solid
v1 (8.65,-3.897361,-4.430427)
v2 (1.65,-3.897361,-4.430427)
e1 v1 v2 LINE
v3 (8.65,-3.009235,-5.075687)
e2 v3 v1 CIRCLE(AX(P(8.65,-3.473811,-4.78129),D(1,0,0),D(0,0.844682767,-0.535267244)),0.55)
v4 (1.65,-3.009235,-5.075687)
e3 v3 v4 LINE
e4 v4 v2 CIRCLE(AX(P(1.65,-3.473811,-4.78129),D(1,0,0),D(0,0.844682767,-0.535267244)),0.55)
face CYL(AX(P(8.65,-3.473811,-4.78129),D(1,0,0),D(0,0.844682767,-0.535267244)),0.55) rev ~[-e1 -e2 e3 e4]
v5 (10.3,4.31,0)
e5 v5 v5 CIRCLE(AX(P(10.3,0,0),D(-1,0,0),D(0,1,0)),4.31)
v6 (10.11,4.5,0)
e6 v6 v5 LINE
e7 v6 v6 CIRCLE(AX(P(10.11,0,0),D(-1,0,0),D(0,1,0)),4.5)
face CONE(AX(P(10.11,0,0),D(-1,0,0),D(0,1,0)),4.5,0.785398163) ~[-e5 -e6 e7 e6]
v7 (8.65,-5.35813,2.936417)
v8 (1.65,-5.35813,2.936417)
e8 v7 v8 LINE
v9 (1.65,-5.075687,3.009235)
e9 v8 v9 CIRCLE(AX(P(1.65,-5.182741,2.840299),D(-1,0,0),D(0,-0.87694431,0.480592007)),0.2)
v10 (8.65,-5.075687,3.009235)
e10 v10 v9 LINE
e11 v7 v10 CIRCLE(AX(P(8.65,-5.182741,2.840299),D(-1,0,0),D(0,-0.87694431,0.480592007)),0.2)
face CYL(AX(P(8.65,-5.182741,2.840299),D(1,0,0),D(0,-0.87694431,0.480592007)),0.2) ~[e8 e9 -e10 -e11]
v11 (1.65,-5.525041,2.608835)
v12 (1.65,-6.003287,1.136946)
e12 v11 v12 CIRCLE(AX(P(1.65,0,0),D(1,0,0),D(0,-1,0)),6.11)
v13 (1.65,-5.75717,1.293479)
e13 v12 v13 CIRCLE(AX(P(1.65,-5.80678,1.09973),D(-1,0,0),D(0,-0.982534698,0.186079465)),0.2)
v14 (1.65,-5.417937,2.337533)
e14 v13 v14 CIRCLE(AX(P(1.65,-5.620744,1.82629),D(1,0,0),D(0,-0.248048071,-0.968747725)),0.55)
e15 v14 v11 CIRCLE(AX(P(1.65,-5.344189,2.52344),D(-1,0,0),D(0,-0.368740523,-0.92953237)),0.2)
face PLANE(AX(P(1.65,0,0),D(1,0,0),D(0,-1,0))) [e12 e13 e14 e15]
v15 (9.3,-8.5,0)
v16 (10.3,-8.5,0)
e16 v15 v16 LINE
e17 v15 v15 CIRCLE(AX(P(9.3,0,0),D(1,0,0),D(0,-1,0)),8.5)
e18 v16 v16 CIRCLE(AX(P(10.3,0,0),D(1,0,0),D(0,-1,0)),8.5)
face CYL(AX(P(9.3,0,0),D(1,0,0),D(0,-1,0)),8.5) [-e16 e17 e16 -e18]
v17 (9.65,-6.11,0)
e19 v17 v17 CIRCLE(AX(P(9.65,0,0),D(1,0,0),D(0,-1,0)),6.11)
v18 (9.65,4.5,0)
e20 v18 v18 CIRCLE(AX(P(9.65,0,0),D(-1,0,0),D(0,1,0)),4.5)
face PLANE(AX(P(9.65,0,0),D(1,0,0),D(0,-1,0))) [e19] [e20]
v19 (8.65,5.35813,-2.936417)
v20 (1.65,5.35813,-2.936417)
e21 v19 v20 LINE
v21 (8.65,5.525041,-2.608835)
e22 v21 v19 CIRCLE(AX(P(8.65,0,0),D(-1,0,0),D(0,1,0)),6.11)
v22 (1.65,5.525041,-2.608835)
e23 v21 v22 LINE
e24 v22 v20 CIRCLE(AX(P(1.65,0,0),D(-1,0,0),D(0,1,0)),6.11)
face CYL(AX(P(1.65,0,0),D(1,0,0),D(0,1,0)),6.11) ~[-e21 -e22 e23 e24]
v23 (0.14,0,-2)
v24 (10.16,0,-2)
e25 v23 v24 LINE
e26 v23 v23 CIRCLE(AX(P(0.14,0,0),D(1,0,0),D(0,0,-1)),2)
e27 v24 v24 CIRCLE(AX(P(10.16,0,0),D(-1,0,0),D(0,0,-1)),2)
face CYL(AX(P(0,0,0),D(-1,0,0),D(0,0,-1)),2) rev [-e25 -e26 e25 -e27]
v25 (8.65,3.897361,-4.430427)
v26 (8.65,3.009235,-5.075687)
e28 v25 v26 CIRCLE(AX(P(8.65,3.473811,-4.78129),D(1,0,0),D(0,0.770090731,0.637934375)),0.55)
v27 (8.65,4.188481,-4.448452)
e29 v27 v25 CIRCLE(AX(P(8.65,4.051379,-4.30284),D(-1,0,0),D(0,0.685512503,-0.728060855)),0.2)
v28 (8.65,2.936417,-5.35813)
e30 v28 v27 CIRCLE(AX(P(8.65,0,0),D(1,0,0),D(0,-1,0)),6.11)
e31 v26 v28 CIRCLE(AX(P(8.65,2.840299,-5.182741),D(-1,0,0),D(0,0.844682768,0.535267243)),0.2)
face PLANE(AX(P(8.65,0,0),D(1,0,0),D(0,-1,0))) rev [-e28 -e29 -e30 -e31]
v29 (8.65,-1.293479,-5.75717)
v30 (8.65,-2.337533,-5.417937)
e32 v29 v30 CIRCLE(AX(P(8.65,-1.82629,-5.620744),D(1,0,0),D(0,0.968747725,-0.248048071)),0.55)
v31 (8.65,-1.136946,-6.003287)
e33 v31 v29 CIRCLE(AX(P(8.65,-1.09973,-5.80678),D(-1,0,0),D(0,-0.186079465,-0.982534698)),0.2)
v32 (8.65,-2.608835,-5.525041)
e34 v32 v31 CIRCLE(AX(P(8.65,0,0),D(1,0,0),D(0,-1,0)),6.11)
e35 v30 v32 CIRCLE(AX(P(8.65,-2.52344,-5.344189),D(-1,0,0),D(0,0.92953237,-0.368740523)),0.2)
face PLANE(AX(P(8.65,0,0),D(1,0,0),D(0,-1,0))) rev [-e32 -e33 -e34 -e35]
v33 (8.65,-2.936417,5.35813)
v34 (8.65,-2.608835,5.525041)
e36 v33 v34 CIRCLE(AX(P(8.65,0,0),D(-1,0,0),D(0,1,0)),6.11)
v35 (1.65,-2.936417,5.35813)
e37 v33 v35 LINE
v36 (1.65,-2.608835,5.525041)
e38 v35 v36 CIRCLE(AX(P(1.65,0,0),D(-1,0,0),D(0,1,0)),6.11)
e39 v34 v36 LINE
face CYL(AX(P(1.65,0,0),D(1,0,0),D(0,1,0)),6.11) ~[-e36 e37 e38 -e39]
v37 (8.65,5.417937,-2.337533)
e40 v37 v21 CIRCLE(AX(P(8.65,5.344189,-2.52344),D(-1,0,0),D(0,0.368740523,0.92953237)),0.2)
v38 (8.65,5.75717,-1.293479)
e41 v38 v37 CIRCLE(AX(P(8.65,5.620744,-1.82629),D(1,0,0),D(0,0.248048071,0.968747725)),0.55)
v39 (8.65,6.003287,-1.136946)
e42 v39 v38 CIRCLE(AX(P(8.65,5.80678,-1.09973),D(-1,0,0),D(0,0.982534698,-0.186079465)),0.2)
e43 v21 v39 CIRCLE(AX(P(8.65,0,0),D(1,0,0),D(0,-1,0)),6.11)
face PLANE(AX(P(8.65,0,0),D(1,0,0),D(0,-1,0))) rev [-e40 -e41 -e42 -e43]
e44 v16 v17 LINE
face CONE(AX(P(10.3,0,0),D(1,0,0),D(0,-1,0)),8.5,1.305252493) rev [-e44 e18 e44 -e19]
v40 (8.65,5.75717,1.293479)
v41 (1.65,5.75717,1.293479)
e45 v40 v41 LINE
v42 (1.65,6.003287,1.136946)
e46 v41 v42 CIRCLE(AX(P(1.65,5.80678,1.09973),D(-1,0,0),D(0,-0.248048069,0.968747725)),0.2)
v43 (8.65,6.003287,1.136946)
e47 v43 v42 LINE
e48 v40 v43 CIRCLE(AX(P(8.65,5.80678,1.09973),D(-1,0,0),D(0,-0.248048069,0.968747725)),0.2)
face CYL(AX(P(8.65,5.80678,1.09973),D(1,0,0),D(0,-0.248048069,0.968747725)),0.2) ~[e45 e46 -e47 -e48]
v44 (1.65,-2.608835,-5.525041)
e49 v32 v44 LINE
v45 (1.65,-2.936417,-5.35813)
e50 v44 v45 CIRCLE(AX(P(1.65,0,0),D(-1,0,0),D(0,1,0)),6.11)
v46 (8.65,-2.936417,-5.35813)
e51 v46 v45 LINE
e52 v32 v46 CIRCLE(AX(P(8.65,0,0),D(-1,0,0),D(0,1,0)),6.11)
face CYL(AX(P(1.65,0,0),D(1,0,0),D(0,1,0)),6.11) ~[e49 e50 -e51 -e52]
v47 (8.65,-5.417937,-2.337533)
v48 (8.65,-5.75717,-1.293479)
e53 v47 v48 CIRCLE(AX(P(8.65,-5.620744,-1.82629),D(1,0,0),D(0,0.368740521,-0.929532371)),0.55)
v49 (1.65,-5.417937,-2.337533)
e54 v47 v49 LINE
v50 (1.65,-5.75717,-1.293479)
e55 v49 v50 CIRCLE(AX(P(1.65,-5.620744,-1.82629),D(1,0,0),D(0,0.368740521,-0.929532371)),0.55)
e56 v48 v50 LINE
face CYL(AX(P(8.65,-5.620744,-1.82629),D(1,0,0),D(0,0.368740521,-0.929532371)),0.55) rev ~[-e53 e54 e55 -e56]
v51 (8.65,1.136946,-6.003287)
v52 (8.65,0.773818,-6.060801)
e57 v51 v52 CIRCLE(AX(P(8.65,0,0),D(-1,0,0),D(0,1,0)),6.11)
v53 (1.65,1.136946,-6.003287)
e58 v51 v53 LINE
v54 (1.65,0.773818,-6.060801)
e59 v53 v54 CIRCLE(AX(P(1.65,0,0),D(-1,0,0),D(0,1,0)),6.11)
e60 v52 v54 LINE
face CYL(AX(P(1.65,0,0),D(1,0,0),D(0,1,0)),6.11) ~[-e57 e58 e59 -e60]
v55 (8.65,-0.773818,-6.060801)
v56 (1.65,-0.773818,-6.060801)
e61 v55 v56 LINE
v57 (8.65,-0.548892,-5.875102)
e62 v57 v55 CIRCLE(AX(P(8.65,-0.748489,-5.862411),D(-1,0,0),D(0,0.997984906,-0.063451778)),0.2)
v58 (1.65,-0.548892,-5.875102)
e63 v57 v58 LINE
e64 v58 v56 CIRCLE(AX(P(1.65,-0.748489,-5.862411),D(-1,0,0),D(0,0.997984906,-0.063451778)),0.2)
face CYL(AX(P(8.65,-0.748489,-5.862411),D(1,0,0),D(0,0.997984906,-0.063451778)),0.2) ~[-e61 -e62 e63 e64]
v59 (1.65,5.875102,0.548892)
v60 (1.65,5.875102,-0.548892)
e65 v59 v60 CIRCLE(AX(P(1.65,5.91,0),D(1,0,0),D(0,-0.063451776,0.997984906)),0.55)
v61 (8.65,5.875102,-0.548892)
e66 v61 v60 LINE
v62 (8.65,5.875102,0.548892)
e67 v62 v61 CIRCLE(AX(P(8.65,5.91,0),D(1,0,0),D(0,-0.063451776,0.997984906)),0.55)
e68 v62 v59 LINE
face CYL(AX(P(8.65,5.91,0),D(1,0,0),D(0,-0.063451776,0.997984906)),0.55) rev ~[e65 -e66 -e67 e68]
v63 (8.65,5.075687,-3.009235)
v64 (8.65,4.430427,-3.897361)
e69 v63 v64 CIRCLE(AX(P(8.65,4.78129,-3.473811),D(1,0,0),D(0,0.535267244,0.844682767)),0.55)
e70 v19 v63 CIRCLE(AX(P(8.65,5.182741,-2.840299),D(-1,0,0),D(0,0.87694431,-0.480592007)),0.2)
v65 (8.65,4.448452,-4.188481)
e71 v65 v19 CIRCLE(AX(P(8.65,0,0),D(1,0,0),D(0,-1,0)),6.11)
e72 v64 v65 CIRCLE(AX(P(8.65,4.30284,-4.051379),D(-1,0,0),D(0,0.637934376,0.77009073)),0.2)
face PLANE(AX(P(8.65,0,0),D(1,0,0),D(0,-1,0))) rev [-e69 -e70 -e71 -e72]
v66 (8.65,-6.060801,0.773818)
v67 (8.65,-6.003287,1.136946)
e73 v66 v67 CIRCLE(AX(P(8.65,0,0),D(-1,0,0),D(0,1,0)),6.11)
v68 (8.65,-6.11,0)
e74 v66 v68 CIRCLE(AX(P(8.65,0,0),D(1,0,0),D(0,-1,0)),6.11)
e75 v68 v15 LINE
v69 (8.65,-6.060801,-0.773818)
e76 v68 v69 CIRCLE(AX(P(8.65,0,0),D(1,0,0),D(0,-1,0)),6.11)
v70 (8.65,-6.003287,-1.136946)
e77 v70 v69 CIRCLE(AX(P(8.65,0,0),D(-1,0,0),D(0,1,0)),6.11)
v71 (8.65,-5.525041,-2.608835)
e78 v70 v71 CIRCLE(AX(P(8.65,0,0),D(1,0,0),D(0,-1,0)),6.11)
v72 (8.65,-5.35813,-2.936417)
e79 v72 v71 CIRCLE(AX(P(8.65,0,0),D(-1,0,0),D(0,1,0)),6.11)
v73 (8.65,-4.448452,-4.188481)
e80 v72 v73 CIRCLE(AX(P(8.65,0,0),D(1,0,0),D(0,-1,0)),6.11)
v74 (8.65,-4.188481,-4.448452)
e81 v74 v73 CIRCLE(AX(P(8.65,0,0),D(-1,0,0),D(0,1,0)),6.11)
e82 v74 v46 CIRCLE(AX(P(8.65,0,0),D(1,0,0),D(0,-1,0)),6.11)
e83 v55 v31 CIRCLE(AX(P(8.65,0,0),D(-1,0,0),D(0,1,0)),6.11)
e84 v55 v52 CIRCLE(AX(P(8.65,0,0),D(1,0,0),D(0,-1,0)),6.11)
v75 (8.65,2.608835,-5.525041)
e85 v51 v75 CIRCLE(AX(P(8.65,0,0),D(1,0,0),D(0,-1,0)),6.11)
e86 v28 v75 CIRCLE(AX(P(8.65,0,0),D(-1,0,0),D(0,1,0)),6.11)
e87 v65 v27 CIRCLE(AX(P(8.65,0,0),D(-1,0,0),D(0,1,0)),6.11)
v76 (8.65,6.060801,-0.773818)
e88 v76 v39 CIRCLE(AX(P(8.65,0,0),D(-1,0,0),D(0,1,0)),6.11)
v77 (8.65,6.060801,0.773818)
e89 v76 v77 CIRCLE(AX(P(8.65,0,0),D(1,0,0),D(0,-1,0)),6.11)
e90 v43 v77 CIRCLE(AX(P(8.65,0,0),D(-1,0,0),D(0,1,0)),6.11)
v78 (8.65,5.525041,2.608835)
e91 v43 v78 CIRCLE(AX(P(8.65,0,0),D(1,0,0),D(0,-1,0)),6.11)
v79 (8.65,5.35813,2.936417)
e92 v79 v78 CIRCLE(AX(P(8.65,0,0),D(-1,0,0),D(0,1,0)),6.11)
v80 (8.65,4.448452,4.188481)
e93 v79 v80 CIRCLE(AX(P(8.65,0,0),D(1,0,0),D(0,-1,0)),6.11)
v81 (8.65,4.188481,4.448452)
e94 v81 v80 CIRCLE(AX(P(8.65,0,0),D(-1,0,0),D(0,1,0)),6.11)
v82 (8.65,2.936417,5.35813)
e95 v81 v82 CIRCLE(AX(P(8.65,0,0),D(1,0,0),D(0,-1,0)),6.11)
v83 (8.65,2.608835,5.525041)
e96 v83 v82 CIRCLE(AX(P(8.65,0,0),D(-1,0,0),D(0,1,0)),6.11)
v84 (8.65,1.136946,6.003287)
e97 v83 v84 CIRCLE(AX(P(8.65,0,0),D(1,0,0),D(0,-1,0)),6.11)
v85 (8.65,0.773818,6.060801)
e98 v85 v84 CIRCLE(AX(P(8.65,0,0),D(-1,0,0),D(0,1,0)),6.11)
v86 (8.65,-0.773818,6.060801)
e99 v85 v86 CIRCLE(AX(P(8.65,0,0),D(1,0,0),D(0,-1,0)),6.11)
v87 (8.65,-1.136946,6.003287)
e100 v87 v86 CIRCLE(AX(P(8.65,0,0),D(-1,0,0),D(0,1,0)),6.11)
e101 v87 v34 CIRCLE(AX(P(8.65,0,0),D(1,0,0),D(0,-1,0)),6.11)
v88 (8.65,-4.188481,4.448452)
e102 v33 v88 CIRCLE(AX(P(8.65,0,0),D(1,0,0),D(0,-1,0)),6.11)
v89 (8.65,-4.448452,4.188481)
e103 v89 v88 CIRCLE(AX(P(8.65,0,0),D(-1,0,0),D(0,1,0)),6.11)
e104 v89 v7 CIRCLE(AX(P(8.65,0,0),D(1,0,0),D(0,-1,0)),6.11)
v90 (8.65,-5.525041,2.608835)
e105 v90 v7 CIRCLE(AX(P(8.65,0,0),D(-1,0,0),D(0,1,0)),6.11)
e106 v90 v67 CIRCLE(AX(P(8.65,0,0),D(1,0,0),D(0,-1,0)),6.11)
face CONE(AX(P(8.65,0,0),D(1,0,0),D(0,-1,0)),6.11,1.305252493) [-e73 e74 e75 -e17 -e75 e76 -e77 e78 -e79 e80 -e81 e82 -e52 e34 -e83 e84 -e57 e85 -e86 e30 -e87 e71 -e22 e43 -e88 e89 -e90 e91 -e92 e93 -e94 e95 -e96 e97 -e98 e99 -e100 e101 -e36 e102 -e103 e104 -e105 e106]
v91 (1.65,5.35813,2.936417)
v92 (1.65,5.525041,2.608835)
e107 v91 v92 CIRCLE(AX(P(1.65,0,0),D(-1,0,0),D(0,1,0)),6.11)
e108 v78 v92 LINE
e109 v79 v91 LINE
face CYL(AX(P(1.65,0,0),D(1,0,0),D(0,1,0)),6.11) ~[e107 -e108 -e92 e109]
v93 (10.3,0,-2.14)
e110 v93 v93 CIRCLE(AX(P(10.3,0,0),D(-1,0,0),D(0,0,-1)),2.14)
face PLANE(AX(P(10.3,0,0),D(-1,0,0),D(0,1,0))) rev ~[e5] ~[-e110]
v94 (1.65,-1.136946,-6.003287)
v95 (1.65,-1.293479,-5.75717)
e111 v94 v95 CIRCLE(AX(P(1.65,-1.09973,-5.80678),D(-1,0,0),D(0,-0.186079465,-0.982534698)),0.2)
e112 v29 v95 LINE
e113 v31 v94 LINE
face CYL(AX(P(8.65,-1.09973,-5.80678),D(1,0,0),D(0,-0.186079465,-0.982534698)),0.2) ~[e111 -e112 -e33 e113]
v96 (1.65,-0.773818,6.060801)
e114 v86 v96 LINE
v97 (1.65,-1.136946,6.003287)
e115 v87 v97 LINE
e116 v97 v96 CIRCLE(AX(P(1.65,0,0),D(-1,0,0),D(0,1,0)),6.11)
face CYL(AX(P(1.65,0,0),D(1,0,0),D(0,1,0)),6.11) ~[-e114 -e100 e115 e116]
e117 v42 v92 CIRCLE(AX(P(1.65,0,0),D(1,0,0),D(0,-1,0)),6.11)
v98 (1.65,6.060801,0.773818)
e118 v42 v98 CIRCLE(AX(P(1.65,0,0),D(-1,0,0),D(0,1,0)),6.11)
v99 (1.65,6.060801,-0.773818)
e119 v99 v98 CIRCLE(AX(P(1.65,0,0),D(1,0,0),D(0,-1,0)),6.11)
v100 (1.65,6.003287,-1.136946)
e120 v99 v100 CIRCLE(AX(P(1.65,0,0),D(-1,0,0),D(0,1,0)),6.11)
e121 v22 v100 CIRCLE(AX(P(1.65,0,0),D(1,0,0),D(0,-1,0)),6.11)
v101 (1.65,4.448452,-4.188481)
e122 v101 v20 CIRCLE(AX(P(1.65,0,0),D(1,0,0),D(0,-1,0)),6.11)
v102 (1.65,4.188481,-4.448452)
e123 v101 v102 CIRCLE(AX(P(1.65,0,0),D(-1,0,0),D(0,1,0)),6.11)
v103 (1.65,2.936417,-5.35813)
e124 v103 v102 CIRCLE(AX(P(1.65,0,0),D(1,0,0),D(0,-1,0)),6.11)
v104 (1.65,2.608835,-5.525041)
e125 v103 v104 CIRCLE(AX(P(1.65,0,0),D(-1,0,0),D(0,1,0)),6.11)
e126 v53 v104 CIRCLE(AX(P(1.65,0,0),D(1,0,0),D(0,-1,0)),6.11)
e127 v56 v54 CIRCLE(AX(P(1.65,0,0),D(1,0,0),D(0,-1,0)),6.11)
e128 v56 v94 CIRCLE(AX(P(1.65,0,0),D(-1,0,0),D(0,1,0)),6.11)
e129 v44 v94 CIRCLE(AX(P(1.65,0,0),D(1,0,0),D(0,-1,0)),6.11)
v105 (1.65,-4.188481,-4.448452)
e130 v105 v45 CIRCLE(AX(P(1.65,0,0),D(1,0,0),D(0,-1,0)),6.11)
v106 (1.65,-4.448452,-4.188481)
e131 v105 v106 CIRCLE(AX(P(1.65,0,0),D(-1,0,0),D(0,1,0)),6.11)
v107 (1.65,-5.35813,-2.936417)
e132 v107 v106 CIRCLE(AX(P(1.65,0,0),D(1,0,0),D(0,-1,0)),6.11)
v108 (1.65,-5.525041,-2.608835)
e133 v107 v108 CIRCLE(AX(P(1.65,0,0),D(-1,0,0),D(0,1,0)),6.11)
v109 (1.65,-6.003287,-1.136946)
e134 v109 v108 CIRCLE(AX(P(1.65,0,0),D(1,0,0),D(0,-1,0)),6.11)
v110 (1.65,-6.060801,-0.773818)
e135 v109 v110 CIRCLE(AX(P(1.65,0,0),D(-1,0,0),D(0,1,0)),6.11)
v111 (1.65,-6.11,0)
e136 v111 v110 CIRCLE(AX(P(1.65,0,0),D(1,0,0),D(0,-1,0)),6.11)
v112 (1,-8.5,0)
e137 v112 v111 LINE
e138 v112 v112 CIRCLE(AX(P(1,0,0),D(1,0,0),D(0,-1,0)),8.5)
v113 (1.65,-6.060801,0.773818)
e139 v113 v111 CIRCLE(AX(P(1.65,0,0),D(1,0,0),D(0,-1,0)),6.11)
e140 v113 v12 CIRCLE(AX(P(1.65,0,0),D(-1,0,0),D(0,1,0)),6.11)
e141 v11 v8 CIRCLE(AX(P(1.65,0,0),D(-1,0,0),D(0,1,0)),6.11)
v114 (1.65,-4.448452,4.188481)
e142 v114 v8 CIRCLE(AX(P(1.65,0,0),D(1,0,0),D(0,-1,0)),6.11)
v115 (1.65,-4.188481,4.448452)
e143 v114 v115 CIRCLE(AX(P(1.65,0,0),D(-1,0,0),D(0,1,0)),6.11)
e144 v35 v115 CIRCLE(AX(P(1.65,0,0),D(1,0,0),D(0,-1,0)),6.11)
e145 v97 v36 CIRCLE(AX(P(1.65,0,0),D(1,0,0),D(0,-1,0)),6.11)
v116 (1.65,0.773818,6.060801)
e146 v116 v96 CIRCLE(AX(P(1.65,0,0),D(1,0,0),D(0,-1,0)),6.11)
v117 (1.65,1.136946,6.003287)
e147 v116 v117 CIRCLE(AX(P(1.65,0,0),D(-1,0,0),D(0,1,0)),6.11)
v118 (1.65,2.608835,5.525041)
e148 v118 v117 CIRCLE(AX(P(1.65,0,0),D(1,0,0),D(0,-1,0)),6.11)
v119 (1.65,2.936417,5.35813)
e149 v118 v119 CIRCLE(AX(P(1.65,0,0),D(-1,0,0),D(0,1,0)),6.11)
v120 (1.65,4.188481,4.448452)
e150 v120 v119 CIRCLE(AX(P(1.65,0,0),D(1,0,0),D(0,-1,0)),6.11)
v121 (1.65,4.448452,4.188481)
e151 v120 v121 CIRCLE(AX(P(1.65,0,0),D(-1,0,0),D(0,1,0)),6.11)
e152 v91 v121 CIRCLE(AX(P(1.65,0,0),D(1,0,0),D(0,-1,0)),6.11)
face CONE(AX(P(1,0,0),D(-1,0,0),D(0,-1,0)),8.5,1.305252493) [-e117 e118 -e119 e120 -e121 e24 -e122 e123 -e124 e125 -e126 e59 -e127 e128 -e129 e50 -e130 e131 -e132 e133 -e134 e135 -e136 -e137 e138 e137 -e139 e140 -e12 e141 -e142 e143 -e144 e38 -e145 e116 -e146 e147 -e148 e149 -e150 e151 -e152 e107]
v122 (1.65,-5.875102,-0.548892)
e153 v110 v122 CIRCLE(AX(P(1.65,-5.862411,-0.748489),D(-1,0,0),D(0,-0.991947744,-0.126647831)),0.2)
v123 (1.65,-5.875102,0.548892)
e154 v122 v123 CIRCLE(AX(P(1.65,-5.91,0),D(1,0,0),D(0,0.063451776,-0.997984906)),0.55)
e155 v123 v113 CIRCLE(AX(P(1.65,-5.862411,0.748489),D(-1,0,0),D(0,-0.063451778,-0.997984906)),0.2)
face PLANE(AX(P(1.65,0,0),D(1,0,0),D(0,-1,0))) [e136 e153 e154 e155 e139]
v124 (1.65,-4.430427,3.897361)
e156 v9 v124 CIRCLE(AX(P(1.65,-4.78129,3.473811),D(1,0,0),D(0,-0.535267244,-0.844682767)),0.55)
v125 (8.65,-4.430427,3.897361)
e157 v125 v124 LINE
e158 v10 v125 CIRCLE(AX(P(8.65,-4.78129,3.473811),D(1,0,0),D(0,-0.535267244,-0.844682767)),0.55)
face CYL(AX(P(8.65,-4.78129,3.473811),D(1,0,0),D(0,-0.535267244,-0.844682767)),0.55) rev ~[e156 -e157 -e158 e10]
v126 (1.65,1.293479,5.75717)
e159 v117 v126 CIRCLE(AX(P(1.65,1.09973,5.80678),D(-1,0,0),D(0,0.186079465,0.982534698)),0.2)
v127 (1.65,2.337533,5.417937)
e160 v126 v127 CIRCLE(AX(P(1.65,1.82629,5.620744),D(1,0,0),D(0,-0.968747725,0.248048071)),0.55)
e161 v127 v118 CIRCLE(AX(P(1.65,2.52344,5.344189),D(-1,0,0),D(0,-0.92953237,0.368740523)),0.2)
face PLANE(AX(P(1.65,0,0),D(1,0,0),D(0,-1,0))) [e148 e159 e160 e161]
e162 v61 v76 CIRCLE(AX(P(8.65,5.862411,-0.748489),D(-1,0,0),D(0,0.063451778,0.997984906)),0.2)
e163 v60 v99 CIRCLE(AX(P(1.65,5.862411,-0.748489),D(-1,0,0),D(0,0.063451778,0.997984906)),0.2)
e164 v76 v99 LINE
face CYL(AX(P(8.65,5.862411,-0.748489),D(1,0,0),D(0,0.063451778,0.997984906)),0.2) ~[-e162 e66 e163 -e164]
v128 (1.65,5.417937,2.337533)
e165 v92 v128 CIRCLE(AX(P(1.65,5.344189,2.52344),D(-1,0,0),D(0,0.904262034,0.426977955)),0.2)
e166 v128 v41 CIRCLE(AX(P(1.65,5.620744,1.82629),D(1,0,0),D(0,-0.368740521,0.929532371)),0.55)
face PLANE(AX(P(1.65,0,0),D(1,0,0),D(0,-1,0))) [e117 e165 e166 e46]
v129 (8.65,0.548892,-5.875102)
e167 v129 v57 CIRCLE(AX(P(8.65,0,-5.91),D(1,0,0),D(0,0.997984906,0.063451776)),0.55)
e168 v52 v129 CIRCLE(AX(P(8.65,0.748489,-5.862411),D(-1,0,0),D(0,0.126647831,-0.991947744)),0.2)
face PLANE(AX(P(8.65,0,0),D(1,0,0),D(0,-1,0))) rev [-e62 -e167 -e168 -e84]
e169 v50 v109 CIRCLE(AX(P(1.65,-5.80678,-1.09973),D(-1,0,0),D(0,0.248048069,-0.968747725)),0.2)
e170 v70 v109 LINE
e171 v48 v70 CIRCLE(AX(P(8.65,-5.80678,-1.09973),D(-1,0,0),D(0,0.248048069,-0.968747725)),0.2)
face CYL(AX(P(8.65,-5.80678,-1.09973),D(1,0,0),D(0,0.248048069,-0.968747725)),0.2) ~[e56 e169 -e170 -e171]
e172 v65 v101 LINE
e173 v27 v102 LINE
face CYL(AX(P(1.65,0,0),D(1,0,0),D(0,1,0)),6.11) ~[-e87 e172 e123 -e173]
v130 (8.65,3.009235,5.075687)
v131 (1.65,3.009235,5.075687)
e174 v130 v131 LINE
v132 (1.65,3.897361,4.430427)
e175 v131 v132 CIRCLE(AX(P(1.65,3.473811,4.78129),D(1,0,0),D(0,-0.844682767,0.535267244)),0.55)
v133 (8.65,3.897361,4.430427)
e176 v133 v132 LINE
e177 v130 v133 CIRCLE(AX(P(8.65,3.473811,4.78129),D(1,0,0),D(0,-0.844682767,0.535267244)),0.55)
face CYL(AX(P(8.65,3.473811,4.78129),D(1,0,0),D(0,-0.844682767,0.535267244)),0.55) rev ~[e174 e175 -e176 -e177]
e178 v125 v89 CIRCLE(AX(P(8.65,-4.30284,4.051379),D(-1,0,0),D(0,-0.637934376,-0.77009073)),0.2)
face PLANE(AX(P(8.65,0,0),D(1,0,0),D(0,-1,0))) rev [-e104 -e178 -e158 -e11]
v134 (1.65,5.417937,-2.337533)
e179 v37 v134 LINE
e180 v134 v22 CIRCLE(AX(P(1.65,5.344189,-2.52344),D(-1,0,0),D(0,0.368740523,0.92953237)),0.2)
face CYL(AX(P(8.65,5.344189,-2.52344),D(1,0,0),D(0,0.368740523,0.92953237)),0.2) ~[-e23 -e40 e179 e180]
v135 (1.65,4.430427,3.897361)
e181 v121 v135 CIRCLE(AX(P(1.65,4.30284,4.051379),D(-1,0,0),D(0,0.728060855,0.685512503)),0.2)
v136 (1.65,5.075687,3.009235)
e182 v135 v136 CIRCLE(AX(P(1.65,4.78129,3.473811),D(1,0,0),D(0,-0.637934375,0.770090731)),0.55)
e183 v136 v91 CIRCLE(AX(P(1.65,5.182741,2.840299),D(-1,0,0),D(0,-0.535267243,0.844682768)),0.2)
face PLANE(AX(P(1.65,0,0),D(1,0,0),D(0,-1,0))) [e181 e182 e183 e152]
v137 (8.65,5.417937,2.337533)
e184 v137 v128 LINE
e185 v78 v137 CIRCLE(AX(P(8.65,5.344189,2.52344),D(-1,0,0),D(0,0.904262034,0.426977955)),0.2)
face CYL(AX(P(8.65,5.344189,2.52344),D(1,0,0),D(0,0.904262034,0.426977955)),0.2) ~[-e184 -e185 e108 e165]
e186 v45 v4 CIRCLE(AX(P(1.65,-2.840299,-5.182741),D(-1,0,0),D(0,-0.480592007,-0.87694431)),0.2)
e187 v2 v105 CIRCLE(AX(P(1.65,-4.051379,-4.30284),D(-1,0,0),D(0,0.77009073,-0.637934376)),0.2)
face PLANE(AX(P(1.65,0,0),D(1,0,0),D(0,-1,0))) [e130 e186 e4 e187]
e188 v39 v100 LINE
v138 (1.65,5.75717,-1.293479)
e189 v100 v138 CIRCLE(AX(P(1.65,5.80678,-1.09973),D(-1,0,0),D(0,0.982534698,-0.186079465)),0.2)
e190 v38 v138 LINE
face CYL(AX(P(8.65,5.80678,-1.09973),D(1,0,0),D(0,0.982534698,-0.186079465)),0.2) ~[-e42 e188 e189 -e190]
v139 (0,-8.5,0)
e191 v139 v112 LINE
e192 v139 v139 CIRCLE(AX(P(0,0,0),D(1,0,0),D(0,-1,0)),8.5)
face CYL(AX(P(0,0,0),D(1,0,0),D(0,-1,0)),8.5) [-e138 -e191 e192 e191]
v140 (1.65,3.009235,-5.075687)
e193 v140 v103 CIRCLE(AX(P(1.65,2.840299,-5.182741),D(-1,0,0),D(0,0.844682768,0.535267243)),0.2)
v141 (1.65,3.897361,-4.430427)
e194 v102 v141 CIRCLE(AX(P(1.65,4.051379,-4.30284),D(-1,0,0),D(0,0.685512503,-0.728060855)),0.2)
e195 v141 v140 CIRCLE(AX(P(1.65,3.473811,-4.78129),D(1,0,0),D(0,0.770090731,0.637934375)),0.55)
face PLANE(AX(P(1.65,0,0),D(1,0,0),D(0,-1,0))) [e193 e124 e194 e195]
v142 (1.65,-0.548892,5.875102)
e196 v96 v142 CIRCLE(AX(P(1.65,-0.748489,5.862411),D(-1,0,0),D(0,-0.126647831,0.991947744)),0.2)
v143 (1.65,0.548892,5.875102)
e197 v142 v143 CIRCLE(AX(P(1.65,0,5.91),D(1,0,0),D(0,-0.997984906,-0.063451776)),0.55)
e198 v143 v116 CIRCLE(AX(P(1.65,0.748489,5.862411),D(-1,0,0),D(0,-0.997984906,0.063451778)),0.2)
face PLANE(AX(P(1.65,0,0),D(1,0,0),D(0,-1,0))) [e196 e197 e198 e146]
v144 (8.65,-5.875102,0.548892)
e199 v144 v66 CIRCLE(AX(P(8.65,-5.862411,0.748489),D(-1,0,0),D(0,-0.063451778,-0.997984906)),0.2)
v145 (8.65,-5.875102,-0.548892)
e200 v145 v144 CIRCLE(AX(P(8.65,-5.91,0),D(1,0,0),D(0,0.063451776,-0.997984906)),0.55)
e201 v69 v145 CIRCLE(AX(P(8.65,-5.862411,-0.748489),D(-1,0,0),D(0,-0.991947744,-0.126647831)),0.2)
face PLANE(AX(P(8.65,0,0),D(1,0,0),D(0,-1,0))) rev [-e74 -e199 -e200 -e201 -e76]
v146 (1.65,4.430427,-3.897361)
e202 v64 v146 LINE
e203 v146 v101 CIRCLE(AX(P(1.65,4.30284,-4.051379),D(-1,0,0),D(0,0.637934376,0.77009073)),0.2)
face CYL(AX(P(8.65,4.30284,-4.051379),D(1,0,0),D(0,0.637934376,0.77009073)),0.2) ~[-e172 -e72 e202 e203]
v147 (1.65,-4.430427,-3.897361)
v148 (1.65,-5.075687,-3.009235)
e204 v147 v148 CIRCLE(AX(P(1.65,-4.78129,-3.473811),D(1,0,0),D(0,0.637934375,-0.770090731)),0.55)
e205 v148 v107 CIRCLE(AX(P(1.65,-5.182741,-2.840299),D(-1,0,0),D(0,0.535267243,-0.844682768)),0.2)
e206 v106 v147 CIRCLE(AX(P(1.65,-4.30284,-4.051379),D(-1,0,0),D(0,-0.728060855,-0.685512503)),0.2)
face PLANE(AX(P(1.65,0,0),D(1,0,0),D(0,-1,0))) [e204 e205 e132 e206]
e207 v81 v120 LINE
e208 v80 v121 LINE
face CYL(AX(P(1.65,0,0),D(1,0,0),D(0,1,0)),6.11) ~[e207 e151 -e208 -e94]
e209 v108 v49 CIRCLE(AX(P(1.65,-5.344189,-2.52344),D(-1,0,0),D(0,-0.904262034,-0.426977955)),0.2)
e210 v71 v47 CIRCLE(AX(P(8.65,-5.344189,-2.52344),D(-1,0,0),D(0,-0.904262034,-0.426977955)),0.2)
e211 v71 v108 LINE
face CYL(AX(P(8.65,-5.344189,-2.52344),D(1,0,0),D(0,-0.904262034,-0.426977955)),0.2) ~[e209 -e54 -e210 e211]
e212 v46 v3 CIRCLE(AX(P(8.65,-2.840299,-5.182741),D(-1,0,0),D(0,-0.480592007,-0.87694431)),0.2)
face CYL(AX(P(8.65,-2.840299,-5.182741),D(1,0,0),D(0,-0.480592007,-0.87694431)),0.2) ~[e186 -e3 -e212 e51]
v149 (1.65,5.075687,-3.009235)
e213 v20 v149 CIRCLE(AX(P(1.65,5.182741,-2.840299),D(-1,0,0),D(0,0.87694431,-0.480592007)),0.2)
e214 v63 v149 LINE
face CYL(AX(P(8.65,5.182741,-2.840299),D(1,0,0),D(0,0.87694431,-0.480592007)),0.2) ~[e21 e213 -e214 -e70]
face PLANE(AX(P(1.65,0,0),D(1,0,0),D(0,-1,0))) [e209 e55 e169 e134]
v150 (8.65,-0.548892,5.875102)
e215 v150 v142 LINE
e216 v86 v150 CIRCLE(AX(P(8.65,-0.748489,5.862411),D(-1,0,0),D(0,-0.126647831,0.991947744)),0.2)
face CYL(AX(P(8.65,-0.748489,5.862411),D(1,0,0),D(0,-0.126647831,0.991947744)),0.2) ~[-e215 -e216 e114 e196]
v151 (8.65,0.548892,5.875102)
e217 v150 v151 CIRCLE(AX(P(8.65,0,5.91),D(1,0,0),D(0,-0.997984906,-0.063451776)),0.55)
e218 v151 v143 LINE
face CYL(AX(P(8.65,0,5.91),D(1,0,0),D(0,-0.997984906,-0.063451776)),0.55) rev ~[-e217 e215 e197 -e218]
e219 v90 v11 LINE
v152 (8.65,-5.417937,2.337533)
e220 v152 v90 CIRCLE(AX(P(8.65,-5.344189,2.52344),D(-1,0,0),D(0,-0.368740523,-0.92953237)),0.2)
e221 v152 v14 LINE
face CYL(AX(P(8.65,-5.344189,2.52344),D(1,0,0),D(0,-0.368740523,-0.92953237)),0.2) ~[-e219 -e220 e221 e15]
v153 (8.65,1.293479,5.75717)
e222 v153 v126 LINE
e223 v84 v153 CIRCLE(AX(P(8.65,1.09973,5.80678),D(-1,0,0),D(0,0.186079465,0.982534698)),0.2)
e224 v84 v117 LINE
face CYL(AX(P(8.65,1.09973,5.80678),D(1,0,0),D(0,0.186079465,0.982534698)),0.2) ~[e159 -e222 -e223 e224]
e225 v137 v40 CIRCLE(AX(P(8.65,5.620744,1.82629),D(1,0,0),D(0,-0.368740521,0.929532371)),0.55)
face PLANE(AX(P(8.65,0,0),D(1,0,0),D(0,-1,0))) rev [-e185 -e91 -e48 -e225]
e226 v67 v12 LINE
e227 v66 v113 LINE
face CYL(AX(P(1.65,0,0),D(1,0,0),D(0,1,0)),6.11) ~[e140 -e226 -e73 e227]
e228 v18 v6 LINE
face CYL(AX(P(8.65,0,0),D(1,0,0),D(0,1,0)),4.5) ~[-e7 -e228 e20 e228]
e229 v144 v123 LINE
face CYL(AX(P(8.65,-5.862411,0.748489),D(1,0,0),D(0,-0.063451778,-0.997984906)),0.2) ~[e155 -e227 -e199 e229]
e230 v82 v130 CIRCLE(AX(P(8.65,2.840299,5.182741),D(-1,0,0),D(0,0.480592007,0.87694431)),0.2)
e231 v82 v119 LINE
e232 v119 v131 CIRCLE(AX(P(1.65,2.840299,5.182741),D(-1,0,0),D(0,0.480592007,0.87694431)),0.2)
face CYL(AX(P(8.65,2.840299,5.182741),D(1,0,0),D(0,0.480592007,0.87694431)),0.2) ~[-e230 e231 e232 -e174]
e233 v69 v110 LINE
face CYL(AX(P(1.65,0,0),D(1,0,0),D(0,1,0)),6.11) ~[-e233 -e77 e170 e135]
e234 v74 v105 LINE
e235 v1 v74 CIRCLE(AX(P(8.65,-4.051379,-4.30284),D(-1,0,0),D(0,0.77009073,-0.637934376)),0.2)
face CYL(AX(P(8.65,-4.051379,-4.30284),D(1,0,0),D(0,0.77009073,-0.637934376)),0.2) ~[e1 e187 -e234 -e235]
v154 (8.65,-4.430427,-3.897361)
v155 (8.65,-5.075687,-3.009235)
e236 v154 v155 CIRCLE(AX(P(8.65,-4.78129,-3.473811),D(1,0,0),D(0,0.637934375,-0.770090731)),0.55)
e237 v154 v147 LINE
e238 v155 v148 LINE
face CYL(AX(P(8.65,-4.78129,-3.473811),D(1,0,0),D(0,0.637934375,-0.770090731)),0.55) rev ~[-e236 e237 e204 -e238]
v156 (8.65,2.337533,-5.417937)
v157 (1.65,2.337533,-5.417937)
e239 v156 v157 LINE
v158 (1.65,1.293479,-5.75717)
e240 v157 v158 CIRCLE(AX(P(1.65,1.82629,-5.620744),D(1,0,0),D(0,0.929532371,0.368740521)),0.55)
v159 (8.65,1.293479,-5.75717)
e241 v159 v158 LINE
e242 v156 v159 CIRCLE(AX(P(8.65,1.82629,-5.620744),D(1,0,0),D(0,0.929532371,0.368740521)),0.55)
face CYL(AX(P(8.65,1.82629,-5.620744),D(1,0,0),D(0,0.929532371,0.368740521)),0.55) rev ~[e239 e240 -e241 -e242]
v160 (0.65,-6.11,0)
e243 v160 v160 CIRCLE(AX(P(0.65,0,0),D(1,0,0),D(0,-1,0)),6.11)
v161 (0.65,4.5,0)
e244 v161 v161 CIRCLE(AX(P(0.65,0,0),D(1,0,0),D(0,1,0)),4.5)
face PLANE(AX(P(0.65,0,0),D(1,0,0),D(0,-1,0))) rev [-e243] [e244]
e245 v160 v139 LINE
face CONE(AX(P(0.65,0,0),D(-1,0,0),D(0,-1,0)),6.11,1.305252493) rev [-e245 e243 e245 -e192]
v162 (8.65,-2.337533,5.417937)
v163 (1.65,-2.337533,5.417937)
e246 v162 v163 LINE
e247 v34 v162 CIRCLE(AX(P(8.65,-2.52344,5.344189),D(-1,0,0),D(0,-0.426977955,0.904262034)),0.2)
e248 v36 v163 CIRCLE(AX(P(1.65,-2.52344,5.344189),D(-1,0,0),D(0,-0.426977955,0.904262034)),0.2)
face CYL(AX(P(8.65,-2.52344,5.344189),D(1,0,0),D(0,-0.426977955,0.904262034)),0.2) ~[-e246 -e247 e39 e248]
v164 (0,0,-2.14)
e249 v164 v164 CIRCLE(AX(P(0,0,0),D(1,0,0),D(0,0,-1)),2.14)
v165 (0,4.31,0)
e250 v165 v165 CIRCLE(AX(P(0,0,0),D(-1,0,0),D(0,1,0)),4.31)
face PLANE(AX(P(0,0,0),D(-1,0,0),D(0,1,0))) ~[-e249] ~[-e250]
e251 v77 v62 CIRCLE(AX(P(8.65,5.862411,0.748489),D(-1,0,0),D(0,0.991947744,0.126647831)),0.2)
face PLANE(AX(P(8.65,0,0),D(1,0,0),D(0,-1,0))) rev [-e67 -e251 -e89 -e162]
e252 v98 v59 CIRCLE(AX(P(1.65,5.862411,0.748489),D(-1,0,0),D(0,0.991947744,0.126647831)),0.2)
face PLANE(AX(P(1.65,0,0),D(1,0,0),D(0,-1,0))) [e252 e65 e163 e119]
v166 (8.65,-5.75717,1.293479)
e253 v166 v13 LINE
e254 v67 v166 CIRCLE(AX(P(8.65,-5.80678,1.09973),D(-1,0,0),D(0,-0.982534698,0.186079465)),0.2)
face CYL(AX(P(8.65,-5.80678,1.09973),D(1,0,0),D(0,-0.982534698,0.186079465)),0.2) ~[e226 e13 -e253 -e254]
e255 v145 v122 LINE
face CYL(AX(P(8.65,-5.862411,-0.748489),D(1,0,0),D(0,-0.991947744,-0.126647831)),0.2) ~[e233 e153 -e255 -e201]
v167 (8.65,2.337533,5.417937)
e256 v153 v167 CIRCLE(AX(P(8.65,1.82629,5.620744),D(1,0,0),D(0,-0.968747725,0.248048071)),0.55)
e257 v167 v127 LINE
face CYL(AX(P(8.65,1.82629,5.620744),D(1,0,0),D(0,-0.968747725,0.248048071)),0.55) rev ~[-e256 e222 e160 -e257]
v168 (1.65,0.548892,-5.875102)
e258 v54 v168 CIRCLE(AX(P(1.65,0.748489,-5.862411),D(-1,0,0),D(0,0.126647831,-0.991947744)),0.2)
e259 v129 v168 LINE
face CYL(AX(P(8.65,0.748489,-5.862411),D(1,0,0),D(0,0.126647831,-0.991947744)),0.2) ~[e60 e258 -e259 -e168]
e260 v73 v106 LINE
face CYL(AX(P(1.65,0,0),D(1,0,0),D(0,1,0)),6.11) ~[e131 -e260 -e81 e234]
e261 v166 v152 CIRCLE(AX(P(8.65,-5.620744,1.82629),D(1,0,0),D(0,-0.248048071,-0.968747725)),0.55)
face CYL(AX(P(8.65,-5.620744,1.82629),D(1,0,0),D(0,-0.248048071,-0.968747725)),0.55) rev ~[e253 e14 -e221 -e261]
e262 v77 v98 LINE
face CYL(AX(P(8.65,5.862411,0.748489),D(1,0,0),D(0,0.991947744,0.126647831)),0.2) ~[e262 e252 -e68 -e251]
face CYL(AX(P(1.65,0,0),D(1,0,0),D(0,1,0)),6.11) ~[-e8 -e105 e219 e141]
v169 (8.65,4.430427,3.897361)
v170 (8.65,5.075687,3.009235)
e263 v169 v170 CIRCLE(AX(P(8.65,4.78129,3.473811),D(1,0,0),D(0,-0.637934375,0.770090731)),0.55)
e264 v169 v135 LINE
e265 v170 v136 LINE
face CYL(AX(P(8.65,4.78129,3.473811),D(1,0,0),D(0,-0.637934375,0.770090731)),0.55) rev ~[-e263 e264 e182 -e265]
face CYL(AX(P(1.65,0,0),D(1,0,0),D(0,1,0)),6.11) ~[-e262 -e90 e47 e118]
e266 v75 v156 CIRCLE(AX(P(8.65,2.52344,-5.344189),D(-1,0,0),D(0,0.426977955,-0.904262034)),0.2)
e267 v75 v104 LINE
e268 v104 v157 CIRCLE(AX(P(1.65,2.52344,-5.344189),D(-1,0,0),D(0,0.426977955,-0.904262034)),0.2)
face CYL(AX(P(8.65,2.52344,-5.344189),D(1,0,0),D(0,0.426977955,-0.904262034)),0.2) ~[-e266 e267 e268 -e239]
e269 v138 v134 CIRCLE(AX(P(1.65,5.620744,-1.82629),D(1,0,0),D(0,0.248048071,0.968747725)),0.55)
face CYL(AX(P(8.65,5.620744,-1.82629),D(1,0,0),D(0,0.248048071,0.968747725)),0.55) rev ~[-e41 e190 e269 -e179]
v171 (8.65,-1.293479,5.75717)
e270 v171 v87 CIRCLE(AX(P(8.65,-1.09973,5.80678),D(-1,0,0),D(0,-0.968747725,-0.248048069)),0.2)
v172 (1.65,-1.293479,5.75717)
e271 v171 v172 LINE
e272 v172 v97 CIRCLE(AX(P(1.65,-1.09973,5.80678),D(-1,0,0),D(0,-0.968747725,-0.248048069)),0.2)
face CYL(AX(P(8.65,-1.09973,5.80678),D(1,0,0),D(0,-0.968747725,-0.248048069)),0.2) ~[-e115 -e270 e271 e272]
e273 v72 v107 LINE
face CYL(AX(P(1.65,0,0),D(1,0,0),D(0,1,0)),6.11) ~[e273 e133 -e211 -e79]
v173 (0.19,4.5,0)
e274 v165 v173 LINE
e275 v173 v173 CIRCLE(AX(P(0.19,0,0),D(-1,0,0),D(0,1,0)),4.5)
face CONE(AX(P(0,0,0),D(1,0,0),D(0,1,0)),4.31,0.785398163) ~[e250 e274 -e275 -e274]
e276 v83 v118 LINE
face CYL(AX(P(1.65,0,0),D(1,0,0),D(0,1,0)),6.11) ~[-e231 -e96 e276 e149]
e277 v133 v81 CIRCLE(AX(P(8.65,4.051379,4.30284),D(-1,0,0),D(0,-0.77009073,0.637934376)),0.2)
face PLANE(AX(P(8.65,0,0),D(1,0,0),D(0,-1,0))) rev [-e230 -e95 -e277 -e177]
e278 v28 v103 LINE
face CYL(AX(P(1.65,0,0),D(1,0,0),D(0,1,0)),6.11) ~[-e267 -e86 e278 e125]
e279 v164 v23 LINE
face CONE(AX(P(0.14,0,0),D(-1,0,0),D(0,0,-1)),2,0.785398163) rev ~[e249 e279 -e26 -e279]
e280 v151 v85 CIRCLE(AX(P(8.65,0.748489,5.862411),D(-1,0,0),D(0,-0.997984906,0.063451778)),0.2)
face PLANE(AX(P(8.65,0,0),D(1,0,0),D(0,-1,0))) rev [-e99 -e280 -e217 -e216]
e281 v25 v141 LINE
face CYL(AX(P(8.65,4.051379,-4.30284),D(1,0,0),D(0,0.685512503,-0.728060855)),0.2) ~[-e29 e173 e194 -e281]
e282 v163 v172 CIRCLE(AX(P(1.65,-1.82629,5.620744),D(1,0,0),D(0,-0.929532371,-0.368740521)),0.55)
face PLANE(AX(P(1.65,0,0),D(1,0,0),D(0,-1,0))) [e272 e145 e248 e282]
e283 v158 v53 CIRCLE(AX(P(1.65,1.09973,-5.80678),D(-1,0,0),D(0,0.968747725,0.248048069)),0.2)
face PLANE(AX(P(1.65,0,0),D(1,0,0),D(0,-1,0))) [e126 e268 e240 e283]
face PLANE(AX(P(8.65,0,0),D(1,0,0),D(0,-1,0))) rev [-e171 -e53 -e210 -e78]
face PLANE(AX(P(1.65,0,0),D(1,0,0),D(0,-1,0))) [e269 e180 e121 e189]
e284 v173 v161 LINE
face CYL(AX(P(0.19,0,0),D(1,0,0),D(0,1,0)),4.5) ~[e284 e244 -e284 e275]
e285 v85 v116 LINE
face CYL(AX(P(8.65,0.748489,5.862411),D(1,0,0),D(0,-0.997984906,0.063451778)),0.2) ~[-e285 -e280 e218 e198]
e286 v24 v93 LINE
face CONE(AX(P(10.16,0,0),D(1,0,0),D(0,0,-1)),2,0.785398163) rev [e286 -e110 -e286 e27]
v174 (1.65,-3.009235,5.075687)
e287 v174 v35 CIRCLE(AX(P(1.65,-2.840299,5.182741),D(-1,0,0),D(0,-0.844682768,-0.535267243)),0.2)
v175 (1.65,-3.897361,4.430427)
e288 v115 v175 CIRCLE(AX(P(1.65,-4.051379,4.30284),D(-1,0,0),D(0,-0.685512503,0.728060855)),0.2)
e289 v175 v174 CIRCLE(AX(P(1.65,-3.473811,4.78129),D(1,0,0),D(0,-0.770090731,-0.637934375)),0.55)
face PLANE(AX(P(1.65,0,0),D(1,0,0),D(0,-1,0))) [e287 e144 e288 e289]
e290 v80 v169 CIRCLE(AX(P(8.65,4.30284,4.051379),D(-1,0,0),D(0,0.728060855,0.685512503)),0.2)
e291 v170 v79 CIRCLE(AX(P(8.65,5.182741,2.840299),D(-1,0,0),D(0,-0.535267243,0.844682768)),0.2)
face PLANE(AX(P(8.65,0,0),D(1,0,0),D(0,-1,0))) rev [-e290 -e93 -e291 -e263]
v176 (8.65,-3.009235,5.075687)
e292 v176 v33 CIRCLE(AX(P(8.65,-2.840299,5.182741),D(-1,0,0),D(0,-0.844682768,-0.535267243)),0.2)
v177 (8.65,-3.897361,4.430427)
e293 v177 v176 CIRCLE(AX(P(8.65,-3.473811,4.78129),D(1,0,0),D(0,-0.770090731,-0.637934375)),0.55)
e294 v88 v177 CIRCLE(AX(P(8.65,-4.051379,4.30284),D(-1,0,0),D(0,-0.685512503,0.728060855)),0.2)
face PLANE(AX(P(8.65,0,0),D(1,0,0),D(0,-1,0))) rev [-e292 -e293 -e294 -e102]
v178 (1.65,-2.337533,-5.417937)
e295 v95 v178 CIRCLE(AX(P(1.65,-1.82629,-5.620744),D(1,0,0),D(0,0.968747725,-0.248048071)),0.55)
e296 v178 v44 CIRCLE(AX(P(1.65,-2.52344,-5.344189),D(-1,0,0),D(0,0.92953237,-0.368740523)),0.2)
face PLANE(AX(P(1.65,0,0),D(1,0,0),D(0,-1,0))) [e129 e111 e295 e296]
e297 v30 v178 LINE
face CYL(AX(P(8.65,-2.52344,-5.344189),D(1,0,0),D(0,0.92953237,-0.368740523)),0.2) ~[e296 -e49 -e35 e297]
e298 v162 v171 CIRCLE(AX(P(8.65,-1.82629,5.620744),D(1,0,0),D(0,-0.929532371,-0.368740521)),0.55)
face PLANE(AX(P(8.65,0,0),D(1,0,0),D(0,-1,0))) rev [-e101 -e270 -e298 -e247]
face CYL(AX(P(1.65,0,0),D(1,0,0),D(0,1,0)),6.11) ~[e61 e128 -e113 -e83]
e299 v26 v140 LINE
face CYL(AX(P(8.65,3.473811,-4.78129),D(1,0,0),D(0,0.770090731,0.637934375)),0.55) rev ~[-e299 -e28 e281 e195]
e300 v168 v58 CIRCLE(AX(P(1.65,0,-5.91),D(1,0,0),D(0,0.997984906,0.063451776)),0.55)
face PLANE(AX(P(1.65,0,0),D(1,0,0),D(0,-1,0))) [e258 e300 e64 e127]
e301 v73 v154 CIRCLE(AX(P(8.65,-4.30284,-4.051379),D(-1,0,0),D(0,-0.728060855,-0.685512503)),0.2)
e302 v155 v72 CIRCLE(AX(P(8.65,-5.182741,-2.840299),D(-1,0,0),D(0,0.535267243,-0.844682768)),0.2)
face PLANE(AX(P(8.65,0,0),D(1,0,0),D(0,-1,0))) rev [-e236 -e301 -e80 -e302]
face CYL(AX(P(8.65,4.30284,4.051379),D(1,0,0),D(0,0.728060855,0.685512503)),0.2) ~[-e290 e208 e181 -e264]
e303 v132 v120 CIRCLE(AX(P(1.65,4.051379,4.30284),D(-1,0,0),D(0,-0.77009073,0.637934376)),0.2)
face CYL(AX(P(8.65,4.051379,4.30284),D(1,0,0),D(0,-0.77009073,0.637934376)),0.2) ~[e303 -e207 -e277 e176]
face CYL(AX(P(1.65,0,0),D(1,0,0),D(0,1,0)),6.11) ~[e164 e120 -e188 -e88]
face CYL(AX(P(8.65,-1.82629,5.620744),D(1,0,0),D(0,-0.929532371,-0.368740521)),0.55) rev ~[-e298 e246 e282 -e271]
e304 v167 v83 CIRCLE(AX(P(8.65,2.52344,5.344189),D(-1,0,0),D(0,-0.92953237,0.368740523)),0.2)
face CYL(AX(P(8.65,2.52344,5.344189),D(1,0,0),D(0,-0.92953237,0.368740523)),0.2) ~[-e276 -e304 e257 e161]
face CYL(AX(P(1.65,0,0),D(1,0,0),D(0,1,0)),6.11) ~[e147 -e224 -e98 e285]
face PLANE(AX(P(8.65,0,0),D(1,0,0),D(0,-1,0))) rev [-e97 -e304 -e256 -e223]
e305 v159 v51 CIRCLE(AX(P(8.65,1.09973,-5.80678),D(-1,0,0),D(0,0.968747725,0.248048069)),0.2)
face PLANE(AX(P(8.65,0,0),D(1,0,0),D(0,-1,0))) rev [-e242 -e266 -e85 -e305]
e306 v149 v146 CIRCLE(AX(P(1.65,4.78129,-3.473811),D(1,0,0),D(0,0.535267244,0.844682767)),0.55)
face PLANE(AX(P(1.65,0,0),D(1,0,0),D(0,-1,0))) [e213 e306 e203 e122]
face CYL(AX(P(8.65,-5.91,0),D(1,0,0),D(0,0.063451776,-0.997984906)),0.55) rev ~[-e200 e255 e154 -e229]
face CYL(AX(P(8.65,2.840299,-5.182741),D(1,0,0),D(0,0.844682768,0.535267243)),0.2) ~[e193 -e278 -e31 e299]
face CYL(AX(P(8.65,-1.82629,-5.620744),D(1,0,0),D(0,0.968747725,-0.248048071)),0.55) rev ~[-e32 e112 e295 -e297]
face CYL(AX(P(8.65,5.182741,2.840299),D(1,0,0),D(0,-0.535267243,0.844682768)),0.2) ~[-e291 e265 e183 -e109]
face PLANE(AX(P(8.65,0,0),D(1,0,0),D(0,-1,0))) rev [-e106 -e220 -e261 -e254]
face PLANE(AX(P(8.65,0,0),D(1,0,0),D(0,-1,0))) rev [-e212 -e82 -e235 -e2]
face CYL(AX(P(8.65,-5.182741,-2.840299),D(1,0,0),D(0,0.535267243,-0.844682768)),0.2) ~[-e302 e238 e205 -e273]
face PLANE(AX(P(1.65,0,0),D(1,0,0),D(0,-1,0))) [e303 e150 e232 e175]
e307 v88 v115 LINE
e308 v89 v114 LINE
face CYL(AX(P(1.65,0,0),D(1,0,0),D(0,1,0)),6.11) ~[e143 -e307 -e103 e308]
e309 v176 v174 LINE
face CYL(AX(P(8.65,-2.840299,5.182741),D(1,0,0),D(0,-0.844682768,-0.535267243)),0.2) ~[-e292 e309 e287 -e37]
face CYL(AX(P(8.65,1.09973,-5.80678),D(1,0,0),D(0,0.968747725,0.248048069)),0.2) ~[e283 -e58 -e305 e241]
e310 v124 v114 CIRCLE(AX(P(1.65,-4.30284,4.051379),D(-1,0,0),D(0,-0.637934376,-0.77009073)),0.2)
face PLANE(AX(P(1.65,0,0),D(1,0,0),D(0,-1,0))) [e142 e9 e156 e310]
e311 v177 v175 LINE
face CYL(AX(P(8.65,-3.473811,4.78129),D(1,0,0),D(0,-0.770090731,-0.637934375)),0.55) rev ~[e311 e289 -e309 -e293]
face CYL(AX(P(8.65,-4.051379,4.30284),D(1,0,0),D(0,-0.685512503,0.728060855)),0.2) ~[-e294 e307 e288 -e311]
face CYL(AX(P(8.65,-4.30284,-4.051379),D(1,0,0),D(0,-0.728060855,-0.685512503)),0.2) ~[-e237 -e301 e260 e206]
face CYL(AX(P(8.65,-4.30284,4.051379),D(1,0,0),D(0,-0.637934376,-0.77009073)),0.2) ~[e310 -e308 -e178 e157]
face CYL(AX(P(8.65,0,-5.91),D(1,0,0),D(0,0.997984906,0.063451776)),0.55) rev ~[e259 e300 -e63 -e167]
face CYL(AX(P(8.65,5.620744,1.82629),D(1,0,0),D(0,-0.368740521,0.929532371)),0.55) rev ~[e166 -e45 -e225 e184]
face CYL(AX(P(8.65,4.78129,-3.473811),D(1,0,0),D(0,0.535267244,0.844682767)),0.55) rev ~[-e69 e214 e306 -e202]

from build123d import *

# Parameters (mm, degrees)
CUT_EXTRUDE_START        = 8.65
CUT_EXTRUDE_1_DEPTH      = 7
PATTERN_CIRCULAR_1_COUNT = 20
SKETCH_6_R               = 2
CUT_EXTRUDE_2_DEPTH      = 16.830034744
CHAMFER_1_SIZE           = 0.14


with BuildPart() as part:
    # 草图3 → 旋转1 (revolve)
    with BuildSketch(Plane.XY):
        Polygon((0, 0), (0, 4.31), (0.19, 4.5), (1.65, 4.5), (1.65, 6.11), (8.65, 6.11), (8.65, 4.5), (10.11, 4.5), (10.3, 4.31), (10.3, 0), align=None)
    revolve(axis=Axis((10.3, 0, 0), (-1, 0, 0)))

    # 草图4 → 切除-拉伸1 (cut)
    with BuildSketch(Plane(origin=(0, 0, 0), x_dir=(0, 0, -1), z_dir=(1, 0, 0)).offset(CUT_EXTRUDE_START)):
        with BuildLine():
            ThreePointArc((0.773818245, 6.060800716), (0, 6.11), (-0.773818245, 6.060800716))
            ThreePointArc((-0.773818245, 6.060800716), (-0.621157102, 6.016640443), (-0.548891698, 5.875101523))
            ThreePointArc((-0.548891698, 5.875101523), (0, 5.36), (0.548891698, 5.875101523))
            ThreePointArc((0.548891698, 5.875101523), (0.621157102, 6.016640443), (0.773818245, 6.060800716))
        make_face()
    cut_extrude_1 = extrude(amount=-CUT_EXTRUDE_1_DEPTH, mode=Mode.SUBTRACT)

    # 阵列(圆周)1: 切除-拉伸1 ×20 about axis
    pattern_circular_1_axis = Axis((0, 0, 0), (1, 0, 0))
    for i in range(1, PATTERN_CIRCULAR_1_COUNT):
        add(cut_extrude_1.rotate(pattern_circular_1_axis, i * 360 / PATTERN_CIRCULAR_1_COUNT), mode=Mode.SUBTRACT)

    # 草图5 → 旋转2 (revolve)
    with BuildSketch(Plane.XY, mode=Mode.PRIVATE) as revolve_2_sk:
        Polygon((1, 8.5), (1.65, 6.11), (1.65, 4.5), (0.65, 4.5), (0.65, 6.11), (0, 8.5), align=None)
        Polygon((9.65, 4.5), (8.65, 4.5), (8.65, 6.11), (9.3, 8.5), (10.3, 8.5), (9.65, 6.11), align=None)
    revolve(revolve_2_sk.sketch.rotate(Axis((0, 0, 0), (1, 0, 0)), 180), axis=Axis((0, 0, 0), (1, 0, 0)))

    # 草图6 → 切除-拉伸2 (cut, through all)
    with BuildSketch(Plane(origin=(0, 0, 0), x_dir=(0, 0, -1), z_dir=(1, 0, 0))):
        Circle(SKETCH_6_R)
    extrude(amount=CUT_EXTRUDE_2_DEPTH, mode=Mode.SUBTRACT)

    # 倒角1
    chamfer_1_edges = [part.edges().sort_by_distance(p)[0] for p in [
        (0, 0, 2),
        (10.3, 0, 2),
    ]]
    chamfer(chamfer_1_edges, length=CHAMFER_1_SIZE)


solid = part.part
